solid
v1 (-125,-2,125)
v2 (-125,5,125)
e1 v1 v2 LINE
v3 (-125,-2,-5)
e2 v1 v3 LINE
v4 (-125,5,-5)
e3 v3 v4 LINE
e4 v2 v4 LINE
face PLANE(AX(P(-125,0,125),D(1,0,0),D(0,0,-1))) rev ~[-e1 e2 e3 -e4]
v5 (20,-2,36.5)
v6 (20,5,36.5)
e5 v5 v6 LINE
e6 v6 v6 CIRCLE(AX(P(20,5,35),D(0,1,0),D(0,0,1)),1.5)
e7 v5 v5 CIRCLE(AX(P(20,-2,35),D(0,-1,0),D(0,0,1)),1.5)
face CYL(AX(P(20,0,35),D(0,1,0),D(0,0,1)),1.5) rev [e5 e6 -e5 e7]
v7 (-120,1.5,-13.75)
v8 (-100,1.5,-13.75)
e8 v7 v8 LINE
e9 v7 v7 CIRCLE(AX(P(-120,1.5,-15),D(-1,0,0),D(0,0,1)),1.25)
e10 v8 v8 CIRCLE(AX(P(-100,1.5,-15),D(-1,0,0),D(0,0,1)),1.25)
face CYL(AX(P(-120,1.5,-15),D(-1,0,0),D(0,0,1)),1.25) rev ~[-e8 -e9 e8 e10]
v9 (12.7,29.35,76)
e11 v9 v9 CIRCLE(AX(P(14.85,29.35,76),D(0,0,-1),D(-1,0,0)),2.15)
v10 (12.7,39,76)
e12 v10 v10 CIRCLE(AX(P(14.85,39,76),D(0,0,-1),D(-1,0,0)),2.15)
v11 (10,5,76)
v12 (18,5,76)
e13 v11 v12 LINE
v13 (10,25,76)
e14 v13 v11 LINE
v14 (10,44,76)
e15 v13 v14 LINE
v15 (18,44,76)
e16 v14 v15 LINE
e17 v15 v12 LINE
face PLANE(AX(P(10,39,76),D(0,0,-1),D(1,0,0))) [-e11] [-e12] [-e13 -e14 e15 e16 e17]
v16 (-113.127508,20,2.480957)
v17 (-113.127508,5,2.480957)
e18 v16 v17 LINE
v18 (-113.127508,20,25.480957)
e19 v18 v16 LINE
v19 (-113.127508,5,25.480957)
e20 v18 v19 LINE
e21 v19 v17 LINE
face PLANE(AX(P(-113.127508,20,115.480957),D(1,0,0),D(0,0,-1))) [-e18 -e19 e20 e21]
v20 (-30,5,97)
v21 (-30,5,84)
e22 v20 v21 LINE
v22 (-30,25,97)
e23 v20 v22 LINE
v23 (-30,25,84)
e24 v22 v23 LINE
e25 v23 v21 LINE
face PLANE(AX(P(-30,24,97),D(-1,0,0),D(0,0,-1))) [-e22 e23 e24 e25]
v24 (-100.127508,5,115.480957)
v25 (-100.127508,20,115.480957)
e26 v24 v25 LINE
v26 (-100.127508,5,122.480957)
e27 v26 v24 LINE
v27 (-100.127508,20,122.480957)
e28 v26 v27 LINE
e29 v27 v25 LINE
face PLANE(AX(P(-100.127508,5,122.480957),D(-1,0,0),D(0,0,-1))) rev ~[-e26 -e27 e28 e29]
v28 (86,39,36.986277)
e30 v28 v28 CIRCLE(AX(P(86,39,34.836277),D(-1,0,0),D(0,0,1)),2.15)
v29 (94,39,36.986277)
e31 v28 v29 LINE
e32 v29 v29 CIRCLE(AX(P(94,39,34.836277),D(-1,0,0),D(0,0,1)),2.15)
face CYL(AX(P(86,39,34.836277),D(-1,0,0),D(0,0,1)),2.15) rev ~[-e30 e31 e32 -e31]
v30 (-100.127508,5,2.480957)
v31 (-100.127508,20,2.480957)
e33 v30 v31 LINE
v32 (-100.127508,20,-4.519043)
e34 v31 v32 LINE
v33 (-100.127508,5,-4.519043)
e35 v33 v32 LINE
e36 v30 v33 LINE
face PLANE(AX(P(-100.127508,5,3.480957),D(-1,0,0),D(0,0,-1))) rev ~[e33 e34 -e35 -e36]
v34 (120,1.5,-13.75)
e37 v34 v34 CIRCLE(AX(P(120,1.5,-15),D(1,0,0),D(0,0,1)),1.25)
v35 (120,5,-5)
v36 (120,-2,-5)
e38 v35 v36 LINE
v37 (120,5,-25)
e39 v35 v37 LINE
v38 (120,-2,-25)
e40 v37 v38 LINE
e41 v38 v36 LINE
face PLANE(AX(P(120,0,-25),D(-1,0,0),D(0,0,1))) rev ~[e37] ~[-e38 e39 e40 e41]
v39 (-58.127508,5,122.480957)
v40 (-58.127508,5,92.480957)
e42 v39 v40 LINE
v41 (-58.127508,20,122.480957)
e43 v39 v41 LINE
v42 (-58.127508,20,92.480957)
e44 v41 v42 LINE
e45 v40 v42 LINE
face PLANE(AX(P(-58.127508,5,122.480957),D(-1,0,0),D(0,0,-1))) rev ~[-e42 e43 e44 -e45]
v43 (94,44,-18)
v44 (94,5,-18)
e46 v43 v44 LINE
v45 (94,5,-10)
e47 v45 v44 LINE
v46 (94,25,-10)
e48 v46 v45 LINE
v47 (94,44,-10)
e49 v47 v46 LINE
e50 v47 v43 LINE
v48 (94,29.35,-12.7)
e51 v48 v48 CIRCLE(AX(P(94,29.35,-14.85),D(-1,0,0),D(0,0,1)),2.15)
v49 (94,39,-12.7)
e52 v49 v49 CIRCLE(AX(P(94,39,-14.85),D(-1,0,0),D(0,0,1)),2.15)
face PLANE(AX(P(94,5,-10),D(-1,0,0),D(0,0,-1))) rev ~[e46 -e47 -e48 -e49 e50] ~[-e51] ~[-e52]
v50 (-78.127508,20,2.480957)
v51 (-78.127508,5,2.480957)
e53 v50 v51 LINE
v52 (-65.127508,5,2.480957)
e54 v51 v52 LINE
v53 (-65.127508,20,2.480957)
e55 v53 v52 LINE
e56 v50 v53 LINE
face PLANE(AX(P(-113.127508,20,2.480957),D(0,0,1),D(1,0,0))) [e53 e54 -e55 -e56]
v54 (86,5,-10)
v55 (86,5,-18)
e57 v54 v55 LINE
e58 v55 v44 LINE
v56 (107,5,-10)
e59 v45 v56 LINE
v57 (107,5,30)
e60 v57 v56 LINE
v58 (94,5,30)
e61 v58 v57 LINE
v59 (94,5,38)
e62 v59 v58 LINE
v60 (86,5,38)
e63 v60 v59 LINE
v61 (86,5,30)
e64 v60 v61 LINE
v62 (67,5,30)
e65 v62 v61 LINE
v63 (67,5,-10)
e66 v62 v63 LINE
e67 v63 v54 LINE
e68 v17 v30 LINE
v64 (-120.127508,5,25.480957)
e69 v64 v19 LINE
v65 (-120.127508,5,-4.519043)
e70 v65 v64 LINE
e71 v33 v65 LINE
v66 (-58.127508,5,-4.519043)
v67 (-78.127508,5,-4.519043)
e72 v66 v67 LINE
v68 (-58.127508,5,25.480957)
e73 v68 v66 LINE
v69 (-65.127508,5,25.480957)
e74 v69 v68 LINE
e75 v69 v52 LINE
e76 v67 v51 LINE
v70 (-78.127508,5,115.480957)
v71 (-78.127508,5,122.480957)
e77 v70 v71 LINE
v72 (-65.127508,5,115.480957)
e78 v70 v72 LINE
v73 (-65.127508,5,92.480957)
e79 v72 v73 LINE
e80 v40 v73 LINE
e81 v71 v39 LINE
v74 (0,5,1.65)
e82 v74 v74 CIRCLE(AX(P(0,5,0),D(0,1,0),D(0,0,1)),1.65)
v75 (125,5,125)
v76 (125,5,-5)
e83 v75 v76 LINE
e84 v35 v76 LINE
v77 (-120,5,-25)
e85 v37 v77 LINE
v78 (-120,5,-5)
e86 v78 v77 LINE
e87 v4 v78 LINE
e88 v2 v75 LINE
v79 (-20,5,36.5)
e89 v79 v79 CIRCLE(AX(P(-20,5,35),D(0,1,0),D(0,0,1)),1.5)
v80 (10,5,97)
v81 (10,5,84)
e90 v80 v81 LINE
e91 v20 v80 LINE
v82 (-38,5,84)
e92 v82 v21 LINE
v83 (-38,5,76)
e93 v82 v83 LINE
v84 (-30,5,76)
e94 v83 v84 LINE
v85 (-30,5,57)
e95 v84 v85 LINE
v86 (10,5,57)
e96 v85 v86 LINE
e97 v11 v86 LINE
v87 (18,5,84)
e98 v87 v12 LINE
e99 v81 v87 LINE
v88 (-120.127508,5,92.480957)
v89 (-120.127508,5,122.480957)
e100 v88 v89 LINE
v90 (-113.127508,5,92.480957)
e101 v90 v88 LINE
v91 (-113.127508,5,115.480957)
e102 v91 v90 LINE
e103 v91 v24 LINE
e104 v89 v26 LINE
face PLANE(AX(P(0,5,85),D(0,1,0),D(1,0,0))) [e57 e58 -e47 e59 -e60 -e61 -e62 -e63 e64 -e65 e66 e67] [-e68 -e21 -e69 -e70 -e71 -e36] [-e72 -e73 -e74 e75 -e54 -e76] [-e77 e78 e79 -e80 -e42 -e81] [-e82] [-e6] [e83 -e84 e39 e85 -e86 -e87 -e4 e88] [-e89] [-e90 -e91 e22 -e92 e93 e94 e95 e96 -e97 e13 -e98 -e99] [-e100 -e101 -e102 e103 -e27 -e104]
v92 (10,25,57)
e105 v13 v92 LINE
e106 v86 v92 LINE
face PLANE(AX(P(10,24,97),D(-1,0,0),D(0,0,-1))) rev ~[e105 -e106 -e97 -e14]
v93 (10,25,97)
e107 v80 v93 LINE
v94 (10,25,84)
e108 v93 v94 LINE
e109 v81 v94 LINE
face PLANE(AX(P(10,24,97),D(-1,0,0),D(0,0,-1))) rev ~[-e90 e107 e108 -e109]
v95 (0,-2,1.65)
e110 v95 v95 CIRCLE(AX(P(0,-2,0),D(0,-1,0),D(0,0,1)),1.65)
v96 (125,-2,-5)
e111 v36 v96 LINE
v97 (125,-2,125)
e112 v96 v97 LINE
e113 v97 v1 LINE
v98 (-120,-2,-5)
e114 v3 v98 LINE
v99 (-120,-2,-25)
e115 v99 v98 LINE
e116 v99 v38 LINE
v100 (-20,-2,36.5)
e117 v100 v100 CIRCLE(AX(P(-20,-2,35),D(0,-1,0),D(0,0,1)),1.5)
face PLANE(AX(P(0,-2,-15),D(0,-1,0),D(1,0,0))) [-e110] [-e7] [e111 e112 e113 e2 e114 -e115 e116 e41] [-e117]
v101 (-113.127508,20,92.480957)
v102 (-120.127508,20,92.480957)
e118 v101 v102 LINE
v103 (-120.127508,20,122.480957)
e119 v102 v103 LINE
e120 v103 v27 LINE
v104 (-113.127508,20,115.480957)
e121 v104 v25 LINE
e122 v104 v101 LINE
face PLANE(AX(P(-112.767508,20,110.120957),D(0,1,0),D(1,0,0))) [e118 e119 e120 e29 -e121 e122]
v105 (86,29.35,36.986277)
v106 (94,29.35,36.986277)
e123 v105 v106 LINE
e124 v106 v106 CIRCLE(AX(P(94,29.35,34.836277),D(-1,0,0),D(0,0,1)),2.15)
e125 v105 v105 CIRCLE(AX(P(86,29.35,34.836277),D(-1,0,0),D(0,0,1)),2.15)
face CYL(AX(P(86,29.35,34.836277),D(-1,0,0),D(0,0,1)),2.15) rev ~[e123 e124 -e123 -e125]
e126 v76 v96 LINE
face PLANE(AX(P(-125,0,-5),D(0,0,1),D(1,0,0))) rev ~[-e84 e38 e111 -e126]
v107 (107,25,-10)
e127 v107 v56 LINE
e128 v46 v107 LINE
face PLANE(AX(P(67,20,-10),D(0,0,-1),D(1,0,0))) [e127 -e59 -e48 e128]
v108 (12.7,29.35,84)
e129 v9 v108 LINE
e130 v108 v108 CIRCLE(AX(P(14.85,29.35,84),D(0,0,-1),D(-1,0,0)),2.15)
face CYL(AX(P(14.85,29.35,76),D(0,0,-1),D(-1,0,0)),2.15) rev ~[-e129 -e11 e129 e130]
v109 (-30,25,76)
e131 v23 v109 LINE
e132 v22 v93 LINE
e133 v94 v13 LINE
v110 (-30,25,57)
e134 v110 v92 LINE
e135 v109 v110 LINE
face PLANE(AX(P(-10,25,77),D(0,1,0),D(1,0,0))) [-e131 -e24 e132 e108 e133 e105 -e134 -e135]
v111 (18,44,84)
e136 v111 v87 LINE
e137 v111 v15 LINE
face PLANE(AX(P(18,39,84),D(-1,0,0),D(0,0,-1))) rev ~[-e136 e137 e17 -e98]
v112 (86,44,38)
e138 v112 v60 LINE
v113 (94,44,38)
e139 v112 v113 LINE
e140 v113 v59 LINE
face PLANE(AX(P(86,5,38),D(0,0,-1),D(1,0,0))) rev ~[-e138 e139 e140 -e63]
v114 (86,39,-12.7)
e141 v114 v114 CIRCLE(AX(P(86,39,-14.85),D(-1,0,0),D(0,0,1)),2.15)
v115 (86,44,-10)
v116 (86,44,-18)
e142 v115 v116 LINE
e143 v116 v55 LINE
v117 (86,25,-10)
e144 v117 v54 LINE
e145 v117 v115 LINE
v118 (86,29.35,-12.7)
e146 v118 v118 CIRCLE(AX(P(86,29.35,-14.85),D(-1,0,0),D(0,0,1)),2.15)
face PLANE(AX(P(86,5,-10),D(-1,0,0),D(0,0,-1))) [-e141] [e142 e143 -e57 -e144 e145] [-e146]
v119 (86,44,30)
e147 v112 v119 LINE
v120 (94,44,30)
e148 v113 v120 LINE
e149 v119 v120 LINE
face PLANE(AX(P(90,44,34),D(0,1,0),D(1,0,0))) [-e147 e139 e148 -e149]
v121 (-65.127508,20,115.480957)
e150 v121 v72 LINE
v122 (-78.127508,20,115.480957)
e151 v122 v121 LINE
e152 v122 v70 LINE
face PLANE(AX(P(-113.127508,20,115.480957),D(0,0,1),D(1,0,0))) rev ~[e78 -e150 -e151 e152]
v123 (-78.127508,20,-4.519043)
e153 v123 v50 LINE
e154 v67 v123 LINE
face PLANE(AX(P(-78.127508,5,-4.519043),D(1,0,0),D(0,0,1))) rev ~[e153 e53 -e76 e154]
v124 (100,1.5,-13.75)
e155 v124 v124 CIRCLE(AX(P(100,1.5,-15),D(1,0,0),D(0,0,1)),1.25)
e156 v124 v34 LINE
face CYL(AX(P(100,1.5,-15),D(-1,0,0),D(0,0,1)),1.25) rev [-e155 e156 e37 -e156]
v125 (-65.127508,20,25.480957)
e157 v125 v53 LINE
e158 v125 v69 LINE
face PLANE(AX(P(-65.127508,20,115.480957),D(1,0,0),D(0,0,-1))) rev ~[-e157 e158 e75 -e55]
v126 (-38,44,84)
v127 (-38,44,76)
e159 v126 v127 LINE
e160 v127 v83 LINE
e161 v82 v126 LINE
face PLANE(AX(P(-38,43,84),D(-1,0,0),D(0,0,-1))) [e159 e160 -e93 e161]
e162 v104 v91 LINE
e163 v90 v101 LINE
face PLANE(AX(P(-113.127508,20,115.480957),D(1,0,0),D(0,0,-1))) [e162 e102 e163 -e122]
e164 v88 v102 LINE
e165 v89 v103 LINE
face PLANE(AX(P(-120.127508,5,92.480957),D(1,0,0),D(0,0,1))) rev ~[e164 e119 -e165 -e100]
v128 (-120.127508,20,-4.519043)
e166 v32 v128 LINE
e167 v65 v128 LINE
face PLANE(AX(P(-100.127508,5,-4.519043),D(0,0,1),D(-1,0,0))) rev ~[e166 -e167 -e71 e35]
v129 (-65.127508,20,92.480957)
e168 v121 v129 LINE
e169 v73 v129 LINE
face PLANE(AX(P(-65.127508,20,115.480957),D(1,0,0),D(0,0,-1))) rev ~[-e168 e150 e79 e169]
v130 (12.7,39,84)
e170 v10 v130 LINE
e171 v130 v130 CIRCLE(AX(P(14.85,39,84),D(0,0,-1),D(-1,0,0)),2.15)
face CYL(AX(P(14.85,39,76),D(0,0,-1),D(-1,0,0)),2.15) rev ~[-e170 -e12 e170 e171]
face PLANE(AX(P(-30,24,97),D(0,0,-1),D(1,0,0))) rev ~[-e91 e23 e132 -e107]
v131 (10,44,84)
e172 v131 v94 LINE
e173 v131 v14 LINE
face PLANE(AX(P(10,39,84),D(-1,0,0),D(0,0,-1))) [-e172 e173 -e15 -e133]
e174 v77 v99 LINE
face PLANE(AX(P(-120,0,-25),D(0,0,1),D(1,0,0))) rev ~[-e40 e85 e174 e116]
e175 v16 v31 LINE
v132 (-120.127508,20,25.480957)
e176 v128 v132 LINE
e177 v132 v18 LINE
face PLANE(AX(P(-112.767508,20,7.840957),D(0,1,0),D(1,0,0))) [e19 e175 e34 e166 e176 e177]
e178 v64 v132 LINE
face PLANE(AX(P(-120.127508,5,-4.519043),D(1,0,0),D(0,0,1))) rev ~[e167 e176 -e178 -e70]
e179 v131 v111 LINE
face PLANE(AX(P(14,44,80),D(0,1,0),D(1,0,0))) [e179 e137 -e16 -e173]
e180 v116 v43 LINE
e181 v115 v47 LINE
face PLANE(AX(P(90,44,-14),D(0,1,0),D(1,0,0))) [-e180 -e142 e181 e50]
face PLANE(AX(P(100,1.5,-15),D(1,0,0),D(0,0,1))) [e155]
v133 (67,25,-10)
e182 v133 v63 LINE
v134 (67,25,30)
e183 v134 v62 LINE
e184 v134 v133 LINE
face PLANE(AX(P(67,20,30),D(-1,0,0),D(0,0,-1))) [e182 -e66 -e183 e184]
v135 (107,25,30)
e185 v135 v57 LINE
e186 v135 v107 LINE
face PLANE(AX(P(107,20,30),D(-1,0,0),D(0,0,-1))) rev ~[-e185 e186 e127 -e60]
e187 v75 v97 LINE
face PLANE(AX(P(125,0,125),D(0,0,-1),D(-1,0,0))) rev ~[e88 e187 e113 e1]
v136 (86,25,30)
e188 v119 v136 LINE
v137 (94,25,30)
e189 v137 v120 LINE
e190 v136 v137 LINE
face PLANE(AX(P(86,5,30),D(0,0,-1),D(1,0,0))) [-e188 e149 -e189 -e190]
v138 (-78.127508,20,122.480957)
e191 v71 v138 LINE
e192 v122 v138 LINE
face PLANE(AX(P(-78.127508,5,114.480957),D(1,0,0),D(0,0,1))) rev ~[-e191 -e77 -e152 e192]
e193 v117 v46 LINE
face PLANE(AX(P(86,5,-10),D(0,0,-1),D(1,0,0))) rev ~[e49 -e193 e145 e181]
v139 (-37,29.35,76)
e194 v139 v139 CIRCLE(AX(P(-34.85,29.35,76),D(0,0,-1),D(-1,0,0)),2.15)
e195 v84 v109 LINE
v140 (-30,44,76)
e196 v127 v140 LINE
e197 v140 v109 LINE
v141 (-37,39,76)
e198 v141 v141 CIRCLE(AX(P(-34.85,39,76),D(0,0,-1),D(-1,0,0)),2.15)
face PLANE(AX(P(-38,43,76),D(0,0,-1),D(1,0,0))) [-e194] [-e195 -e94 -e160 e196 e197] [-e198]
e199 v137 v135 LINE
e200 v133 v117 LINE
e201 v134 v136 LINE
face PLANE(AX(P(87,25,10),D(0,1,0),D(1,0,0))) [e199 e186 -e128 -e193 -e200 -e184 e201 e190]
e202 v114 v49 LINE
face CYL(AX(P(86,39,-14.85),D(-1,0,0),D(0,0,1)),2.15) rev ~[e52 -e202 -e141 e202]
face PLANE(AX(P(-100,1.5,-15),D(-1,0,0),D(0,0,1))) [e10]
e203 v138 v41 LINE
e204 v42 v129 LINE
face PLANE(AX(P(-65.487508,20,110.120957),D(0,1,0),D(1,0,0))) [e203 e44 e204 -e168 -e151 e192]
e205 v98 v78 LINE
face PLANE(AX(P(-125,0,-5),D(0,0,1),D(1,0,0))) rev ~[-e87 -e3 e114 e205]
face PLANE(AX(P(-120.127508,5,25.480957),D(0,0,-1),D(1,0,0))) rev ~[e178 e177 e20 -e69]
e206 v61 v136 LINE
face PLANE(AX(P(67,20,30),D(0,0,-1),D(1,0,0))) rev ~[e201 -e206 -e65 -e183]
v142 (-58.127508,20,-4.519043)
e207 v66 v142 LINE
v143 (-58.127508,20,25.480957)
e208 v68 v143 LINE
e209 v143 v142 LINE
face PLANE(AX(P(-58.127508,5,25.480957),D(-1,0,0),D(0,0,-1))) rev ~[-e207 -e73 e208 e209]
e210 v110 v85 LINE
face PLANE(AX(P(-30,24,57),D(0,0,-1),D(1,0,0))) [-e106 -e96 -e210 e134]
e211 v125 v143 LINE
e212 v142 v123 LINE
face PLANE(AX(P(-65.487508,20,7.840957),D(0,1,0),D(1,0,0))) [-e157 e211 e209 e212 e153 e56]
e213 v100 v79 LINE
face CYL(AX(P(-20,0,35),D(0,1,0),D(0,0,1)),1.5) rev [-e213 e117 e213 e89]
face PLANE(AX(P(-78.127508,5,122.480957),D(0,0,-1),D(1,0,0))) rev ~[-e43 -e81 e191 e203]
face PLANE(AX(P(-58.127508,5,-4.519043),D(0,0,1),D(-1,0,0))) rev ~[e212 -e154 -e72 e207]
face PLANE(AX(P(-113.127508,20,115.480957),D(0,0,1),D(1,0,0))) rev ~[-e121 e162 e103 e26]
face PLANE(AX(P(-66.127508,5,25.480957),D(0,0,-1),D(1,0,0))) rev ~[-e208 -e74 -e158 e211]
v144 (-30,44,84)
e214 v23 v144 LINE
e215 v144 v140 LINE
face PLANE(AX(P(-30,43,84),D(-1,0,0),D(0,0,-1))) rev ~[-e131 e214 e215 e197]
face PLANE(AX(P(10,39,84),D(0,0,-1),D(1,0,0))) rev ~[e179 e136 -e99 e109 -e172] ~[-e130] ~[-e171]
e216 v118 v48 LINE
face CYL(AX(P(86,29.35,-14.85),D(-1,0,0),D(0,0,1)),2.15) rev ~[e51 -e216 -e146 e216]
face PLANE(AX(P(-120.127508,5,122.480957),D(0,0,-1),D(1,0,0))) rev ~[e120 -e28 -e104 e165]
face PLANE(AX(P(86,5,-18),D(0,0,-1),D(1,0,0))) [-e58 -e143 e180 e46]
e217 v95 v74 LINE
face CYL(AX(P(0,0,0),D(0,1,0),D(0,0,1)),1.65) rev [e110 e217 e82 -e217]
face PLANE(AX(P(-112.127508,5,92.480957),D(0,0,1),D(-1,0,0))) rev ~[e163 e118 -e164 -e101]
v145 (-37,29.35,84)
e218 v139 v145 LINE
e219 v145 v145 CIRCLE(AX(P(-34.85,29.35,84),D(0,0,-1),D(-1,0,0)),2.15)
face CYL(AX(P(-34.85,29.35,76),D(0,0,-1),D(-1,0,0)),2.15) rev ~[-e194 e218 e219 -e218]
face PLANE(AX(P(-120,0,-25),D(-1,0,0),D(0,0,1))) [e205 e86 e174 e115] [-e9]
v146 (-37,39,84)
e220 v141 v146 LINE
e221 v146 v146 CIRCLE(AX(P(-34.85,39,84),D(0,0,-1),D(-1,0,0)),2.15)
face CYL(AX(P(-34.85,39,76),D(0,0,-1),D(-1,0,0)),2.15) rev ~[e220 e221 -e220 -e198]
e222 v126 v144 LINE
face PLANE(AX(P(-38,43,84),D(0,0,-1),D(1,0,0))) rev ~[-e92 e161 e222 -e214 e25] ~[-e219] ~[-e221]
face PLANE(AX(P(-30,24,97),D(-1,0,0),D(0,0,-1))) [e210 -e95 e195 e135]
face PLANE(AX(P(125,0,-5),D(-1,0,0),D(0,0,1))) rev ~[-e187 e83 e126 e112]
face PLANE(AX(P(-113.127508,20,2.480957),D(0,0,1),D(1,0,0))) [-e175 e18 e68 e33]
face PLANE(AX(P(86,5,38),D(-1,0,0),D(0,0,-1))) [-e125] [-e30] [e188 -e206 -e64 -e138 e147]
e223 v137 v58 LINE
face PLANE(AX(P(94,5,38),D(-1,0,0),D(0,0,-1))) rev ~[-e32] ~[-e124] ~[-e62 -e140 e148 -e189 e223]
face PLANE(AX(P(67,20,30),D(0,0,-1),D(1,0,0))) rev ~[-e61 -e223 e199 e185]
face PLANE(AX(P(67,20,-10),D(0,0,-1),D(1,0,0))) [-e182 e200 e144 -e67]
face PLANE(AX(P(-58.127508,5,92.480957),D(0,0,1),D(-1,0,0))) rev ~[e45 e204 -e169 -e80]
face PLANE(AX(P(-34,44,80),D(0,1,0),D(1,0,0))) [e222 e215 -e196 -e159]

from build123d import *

# Parameters (mm, degrees)
SKIZZE1_W                             = 250
SKIZZE1_H                             = 250
AUFSATZ_LINEAR_AUSTRAGEN1_DEPTH       = 5
SKIZZE2_W                             = 40
SKIZZE2_H                             = 40
AUFSATZ_LINEAR_AUSTRAGEN2_DEPTH       = 15
SKIZZE3_R                             = 1.65
SKIZZE3_W                             = 30
SKIZZE3_H                             = 30
SCHNITT_LINEAR_AUSTRAGEN1_DEPTH       = 15
SKIZZE4_R                             = 1.65
SKIZZE4_W                             = 30
SKIZZE4_H                             = 30
SCHNITT_LINEAR_AUSTRAGEN2_DEPTH       = 15
SKIZZE6_W                             = 40
SKIZZE6_H                             = 40
AUFSATZ_LINEAR_AUSTRAGEN3_DEPTH       = 5
SKIZZE7_W                             = 40
SKIZZE7_H                             = 40
SCHNITT_LINEAR_AUSTRAGEN3_DEPTH       = 43
SKIZZE8_W                             = 30
SKIZZE8_H                             = 30
AUFSATZ_LINEAR_AUSTRAGEN4_DEPTH       = 5
SKIZZE9_W                             = 45
SKIZZE9_H                             = 45
AUFSATZ_LINEAR_AUSTRAGEN5_DEPTH       = 15
SKIZZE10_W                            = 8
SKIZZE10_H                            = 8
AUFSATZ_LINEAR_AUSTRAGEN6_DEPTH       = 34
SKIZZE11_R                            = 2.15
SCHNITT_LINEAR_AUSTRAGEN4_DEPTH       = 34
SKIZZE12_W                            = 143.062860871
SKIZZE12_H                            = 184.486429343
SCHNITT_LINEAR_AUSTRAGEN5_DEPTH       = 60
SKIZZE13_W                            = 40
SKIZZE13_H                            = 40
AUFSATZ_LINEAR_AUSTRAGEN7_DEPTH       = 15
SKIZZE14_W                            = 8
SKIZZE14_H                            = 8
AUFSATZ_LINEAR_AUSTRAGEN8_DEPTH       = 34
SKIZZE15_W                            = 37
SKIZZE15_H                            = 14
SCHNITT_LINEAR_AUSTRAGEN6_DEPTH       = 10
SKIZZE16_W                            = 50
SKIZZE16_H                            = 70
AUFSATZ_LINEAR_AUSTRAGEN9_DEPTH       = 1
SKIZZE17_R                            = 1.35
SCHNITT_LINEAR_AUSTRAGEN7_DEPTH       = 21
SKIZZE18_R                            = 2.15
SCHNITT_LINEAR_AUSTRAGEN8_DEPTH       = 21
SKIZZE19_R                            = 2.15
SCHNITT_LINEAR_AUSTRAGEN9_DEPTH       = 21
SCHNITT_LINEAR_AUSTRAGEN10_DEPTH      = 22
SCHNITT_LINEAR_AUSTRAGEN10_DEPTH_BACK = 63
SKIZZE20_W                            = 250
SKIZZE20_H                            = 100
SKIZZE21_W                            = 5
SKIZZE21_H                            = 20
SCHNITT_LINEAR_AUSTRAGEN11_DEPTH      = 10
SKIZZE22_R                            = 1.25
SCHNITT_LINEAR_AUSTRAGEN12_DEPTH      = 20
SCHNITT_LINEAR_START                  = -20
SKIZZE23_R                            = 1.25
SCHNITT_LINEAR_AUSTRAGEN13_DEPTH      = 20
SKIZZE24_R                            = 1.5
SCHNITT_LINEAR_AUSTRAGEN15_DEPTH      = 10
SKIZZE25_W                            = 240
SKIZZE25_H                            = 20
SKIZZE25_R                            = 1.5
SKIZZE25_R_2                          = 1.65
AUFSATZ_LINEAR_AUSTRAGEN10_DEPTH      = 2
SKIZZE26_W                            = 48
SKIZZE26_H                            = 113
SCHNITT_LINEAR_AUSTRAGEN17_DEPTH      = 15
SKIZZE27_W                            = 40
SKIZZE27_H                            = 40
AUFSATZ_LINEAR_AUSTRAGEN11_DEPTH      = 4
SKIZZE28_W                            = 8
SKIZZE28_H                            = 8
AUFSATZ_LINEAR_AUSTRAGEN12_DEPTH      = 4
SKIZZE30_R                            = 2.15
SCHNITT_LINEAR_AUSTRAGEN18_DEPTH      = 9
SKIZZE31_R                            = 2.15
SCHNITT_LINEAR_AUSTRAGEN19_DEPTH      = 9
SKIZZE32_R                            = 2.15
SCHNITT_LINEAR_AUSTRAGEN20_DEPTH      = 9
SKIZZE33_W                            = 40
SKIZZE33_H                            = 40
AUFSATZ_LINEAR_AUSTRAGEN13_DEPTH      = 1
SKIZZE34_W                            = 8
SKIZZE34_H                            = 8
AUFSATZ_LINEAR_AUSTRAGEN14_DEPTH      = 1


with BuildPart() as part:
    # Skizze1 → Aufsatz-Linear austragen1 (new body)
    with BuildSketch(Plane(origin=(0, 0, 0), x_dir=(1, 0, 0), z_dir=(0, 1, 0))):
        Rectangle(SKIZZE1_W, SKIZZE1_H)
    extrude(amount=AUFSATZ_LINEAR_AUSTRAGEN1_DEPTH)

    # Skizze2 → Aufsatz-Linear austragen2 (add)
    with BuildSketch(Plane(origin=(0, 5, 0), x_dir=(1, 0, 0), z_dir=(0, 1, 0))):
        Polygon((-100.127507589, -114.480956566), (-112.127507589, -114.480956566), (-112.127507589, -92.480956566), (-120.127507589, -92.480956566), (-120.127507589, -122.480956566), (-100.127507589, -122.480956566), align=None)
        Polygon((-66.127507589, -114.480956566), (-78.127507589, -114.480956566), (-78.127507589, -122.480956566), (-58.127507589, -122.480956566), (-58.127507589, -92.480956566), (-66.127507589, -92.480956566), align=None)
        Polygon((-66.127507589, -3.480956566), (-66.127507589, -25.480956566), (-58.127507589, -25.480956566), (-58.127507589, 4.519043434), (-78.127507589, 4.519043434), (-78.127507589, -3.480956566), align=None)
        Polygon((-120.127507589, -25.480956566), (-112.127507589, -25.480956566), (-112.127507589, -3.480956566), (-100.127507589, -3.480956566), (-100.127507589, 4.519043434), (-120.127507589, 4.519043434), align=None)
        with Locations((0, -85)):
            Rectangle(SKIZZE2_W, SKIZZE2_H)
        with Locations((85, 0)):
            Rectangle(SKIZZE2_W, SKIZZE2_H)
    extrude(amount=AUFSATZ_LINEAR_AUSTRAGEN2_DEPTH)

    # Skizze3 → Schnitt-Linear austragen1 (cut)
    with BuildSketch(Plane(origin=(0, 20, 0), x_dir=(1, 0, 0), z_dir=(0, 1, 0))):
        Circle(SKIZZE3_R)
        with Locations((85, 0)):
            Rectangle(SKIZZE3_W, SKIZZE3_H)
        with Locations((0, -85)):
            Rectangle(SKIZZE3_W, SKIZZE3_H)
    extrude(amount=-SCHNITT_LINEAR_AUSTRAGEN1_DEPTH, mode=Mode.SUBTRACT)

    # Skizze4 → Schnitt-Linear austragen2 (cut)
    with BuildSketch(Plane(origin=(0, 5, 0), x_dir=(1, 0, 0), z_dir=(0, 1, 0))):
        with Locations(Location((0, 0, 0), (0, 0, 270))):
            Circle(SKIZZE4_R)
        with Locations((0, -85)):
            Rectangle(SKIZZE4_W, SKIZZE4_H)
        with Locations((85, 0)):
            Rectangle(SKIZZE4_W, SKIZZE4_H)
    extrude(amount=-SCHNITT_LINEAR_AUSTRAGEN2_DEPTH, mode=Mode.SUBTRACT)

    # Skizze6 → Aufsatz-Linear austragen3 (add)
    with BuildSketch(Plane(origin=(0, 20, 0), x_dir=(1, 0, 0), z_dir=(0, 1, 0))):
        with Locations((0, -85)):
            Rectangle(SKIZZE6_W, SKIZZE6_H)
        with Locations((85, 0)):
            Rectangle(SKIZZE6_W, SKIZZE6_H)
    extrude(amount=-AUFSATZ_LINEAR_AUSTRAGEN3_DEPTH)

    # Skizze7 → Schnitt-Linear austragen3 (cut)
    with BuildSketch(Plane(origin=(0, 5, 0), x_dir=(1, 0, 0), z_dir=(0, 1, 0))):
        with Locations((0, -85)):
            Rectangle(SKIZZE7_W, SKIZZE7_H)
        with Locations((85, 0)):
            Rectangle(SKIZZE7_W, SKIZZE7_H)
    extrude(amount=SCHNITT_LINEAR_AUSTRAGEN3_DEPTH, mode=Mode.SUBTRACT)

    # Skizze8 → Aufsatz-Linear austragen4 (add)
    with BuildSketch(Plane(origin=(0, 5, 0), x_dir=(1, 0, 0), z_dir=(0, 1, 0))):
        with Locations((0, -85)):
            Rectangle(SKIZZE8_W, SKIZZE8_H)
        with Locations((85, 0)):
            Rectangle(SKIZZE8_W, SKIZZE8_H)
    extrude(amount=-AUFSATZ_LINEAR_AUSTRAGEN4_DEPTH)

    # Skizze9 → Aufsatz-Linear austragen5 (add)
    with BuildSketch(Plane(origin=(0, 5, 0), x_dir=(1, 0, 0), z_dir=(0, 1, 0))):
        with Locations((16.5, -93.5)):
            Rectangle(SKIZZE9_W, SKIZZE9_H)
        with Locations((93.5, -16.5)):
            Rectangle(SKIZZE9_W, SKIZZE9_H)
    extrude(amount=AUFSATZ_LINEAR_AUSTRAGEN5_DEPTH)

    # Skizze10 → Aufsatz-Linear austragen6 (add)
    with BuildSketch(Plane(origin=(0, 5, 0), x_dir=(1, 0, 0), z_dir=(0, 1, 0))):
        with Locations((-10, -89)):
            Rectangle(SKIZZE10_W, SKIZZE10_H)
        with Locations((43, -89)):
            Rectangle(SKIZZE10_W, SKIZZE10_H)
        with Locations((89, 10)):
            Rectangle(SKIZZE10_W, SKIZZE10_H)
        with Locations((89, -43)):
            Rectangle(SKIZZE10_W, SKIZZE10_H)
    extrude(amount=AUFSATZ_LINEAR_AUSTRAGEN6_DEPTH)

    # Skizze11 → Schnitt-Linear austragen4 (cut)
    with BuildSketch(Plane(origin=(0, 0, 85), x_dir=(-1, 0, 0), z_dir=(0, 0, -1))):
        with Locations((10.85, 34.05)):
            Circle(SKIZZE11_R)
        with Locations((10.85, 24.35)):
            Circle(SKIZZE11_R)
        with Locations((-43.85, 34.05)):
            Circle(SKIZZE11_R)
        with Locations((-43.85, 24.35)):
            Circle(SKIZZE11_R)
    extrude(amount=-SCHNITT_LINEAR_AUSTRAGEN4_DEPTH, mode=Mode.SUBTRACT)

    # Skizze12 → Schnitt-Linear austragen5 (cut)
    with BuildSketch(Plane(origin=(0, 5, 0), x_dir=(1, 0, 0), z_dir=(0, 1, 0))):
        with Locations((48.924998025, -26.491593456)):
            Rectangle(SKIZZE12_W, SKIZZE12_H)
    extrude(amount=SCHNITT_LINEAR_AUSTRAGEN5_DEPTH, mode=Mode.SUBTRACT)

    # Skizze13 → Aufsatz-Linear austragen7 (add)
    with BuildSketch(Plane(origin=(0, 5, 0), x_dir=(1, 0, 0), z_dir=(0, 1, 0))):
        with Locations((-10, -77)):
            Rectangle(SKIZZE13_W, SKIZZE13_H)
        with Locations((87, -10)):
            Rectangle(SKIZZE13_W, SKIZZE13_H)
    extrude(amount=AUFSATZ_LINEAR_AUSTRAGEN7_DEPTH)

    # Skizze14 → Aufsatz-Linear austragen8 (add)
    with BuildSketch(Plane(origin=(0, 5, 0), x_dir=(1, 0, 0), z_dir=(0, 1, 0))):
        with Locations((-34, -80)):
            Rectangle(SKIZZE14_W, SKIZZE14_H)
        with Locations((14, -80)):
            Rectangle(SKIZZE14_W, SKIZZE14_H)
        with Locations((90, -34)):
            Rectangle(SKIZZE14_W, SKIZZE14_H)
        with Locations((90, 14)):
            Rectangle(SKIZZE14_W, SKIZZE14_H)
    extrude(amount=AUFSATZ_LINEAR_AUSTRAGEN8_DEPTH)

    # Skizze15 → Schnitt-Linear austragen6 (cut)
    with BuildSketch(Plane(origin=(0, 5, 0), x_dir=(1, 0, 0), z_dir=(0, 1, 0))):
        with Locations((0, 118)):
            Rectangle(SKIZZE15_W, SKIZZE15_H)
    extrude(amount=-SCHNITT_LINEAR_AUSTRAGEN6_DEPTH, mode=Mode.SUBTRACT)

    # Skizze16 → Aufsatz-Linear austragen9 (add)
    with BuildSketch(Plane(origin=(0, 5, 0), x_dir=(1, 0, 0), z_dir=(0, 1, 0))):
        with Locations((-76.733084372, 76.985715353)):
            Rectangle(SKIZZE16_W, SKIZZE16_H)
    extrude(amount=AUFSATZ_LINEAR_AUSTRAGEN9_DEPTH)

    # Skizze17 → Schnitt-Linear austragen7 (cut)
    with BuildSketch(Plane(origin=(0, 5, 0), x_dir=(1, 0, 0), z_dir=(0, 1, 0))):
        with Locations(Location((105.951755746, 46.286528094, 0), (0, 0, 270))):
            Circle(SKIZZE17_R)
        with Locations(Location((105.951755746, 95.286528094, 0), (0, 0, 270))):
            Circle(SKIZZE17_R)
        with Locations(Location((47.951755746, 46.286528094, 0), (0, 0, 270))):
            Circle(SKIZZE17_R)
        with Locations(Location((47.951755746, 95.286528094, 0), (0, 0, 270))):
            Circle(SKIZZE17_R)
    extrude(amount=-SCHNITT_LINEAR_AUSTRAGEN7_DEPTH, mode=Mode.SUBTRACT)

    # Skizze18 → Schnitt-Linear austragen8 (cut)
    with BuildSketch(Plane(origin=(0, 0, 76), x_dir=(-1, 0, 0), z_dir=(0, 0, -1))):
        with Locations((34.85, 39.05)):
            Circle(SKIZZE18_R)
        with Locations((34.85, 29.35)):
            Circle(SKIZZE18_R)
        with Locations((-14.85, 39.05)):
            Circle(SKIZZE18_R)
        with Locations((-14.85, 29.35)):
            Circle(SKIZZE18_R)
    extrude(amount=-SCHNITT_LINEAR_AUSTRAGEN8_DEPTH, mode=Mode.SUBTRACT)

    # Skizze19 → Schnitt-Linear austragen9 (cut)
    with BuildSketch(Plane.ZY.offset(-86)):
        with Locations((34.836277026, 39.05)):
            Circle(SKIZZE19_R)
        with Locations((34.836277026, 29.35)):
            Circle(SKIZZE19_R)
        with Locations((-14.85, 39.05)):
            Circle(SKIZZE19_R)
        with Locations((-14.85, 29.35)):
            Circle(SKIZZE19_R)
    extrude(amount=-SCHNITT_LINEAR_AUSTRAGEN9_DEPTH, mode=Mode.SUBTRACT)

    # Skizze20 → Schnitt-Linear austragen10 (cut, two sides: drawn at the far end of the back side and taken through both)
    with BuildSketch(Plane(origin=(0, 5, 0), x_dir=(1, 0, 0), z_dir=(0, 1, 0)).offset(-SCHNITT_LINEAR_AUSTRAGEN10_DEPTH_BACK)):
        with Locations((0, 75)):
            Rectangle(SKIZZE20_W, SKIZZE20_H)
    extrude(amount=SCHNITT_LINEAR_AUSTRAGEN10_DEPTH + SCHNITT_LINEAR_AUSTRAGEN10_DEPTH_BACK, mode=Mode.SUBTRACT)

    # Skizze21 → Schnitt-Linear austragen11 (cut)
    with BuildSketch(Plane(origin=(0, 5, 0), x_dir=(1, 0, 0), z_dir=(0, 1, 0))):
        with Locations((-122.5, 15)):
            Rectangle(SKIZZE21_W, SKIZZE21_H)
        with Locations((122.5, 15)):
            Rectangle(SKIZZE21_W, SKIZZE21_H)
    extrude(amount=-SCHNITT_LINEAR_AUSTRAGEN11_DEPTH, mode=Mode.SUBTRACT)

    # Skizze22 → Schnitt-Linear austragen12 (cut)
    with BuildSketch(Plane.ZY.offset(120)):
        with Locations((-15, 1.5)):
            Circle(SKIZZE22_R)
    extrude(amount=-SCHNITT_LINEAR_AUSTRAGEN12_DEPTH, mode=Mode.SUBTRACT)

    # Skizze23 → Schnitt-Linear austragen13 (cut)
    with BuildSketch(Plane(origin=(120, 0, 0), x_dir=(0, 0, -1), z_dir=(1, 0, 0)).offset(SCHNITT_LINEAR_START)):
        with Locations(Location((15, 1.5, 0), (0, 0, 180))):
            Circle(SKIZZE23_R)
    extrude(amount=SCHNITT_LINEAR_AUSTRAGEN13_DEPTH, mode=Mode.SUBTRACT)

    # Skizze24 → Schnitt-Linear austragen15 (cut)
    with BuildSketch(Plane(origin=(0, 5, 0), x_dir=(1, 0, 0), z_dir=(0, 1, 0))):
        with Locations(Location((-20, -35, 0), (0, 0, 270))):
            Circle(SKIZZE24_R)
        with Locations(Location((20, -35, 0), (0, 0, 270))):
            Circle(SKIZZE24_R)
    extrude(amount=-SCHNITT_LINEAR_AUSTRAGEN15_DEPTH, mode=Mode.SUBTRACT)

    # Skizze25 → Aufsatz-Linear austragen10 (add)
    # profile 1 of 2: a face of its own
    with BuildSketch(Plane.XZ):
        with Locations((0, -15)):
            Rectangle(SKIZZE25_W, SKIZZE25_H)
    # profile 2 of 2: a face of its own
    with BuildSketch(Plane.XZ):
        Polygon((125, -5), (125, 125), (-125, 125), (-125, -5), (-120, -5), (120, -5), align=None)
        with Locations(Location((-20, 35, 0), (0, 0, 90))):
            Circle(SKIZZE25_R, mode=Mode.SUBTRACT)
        with Locations(Location((0, 0, 0), (0, 0, 90))):
            Circle(SKIZZE25_R_2, mode=Mode.SUBTRACT)
        with Locations(Location((20, 35, 0), (0, 0, 90))):
            Circle(SKIZZE25_R, mode=Mode.SUBTRACT)
    extrude(amount=AUFSATZ_LINEAR_AUSTRAGEN10_DEPTH)

    # Skizze26 → Schnitt-Linear austragen17 (cut)
    with BuildSketch(Plane(origin=(0, 20, 0), x_dir=(1, 0, 0), z_dir=(0, 1, 0))):
        with Locations((-89.127507589, -58.980956566)):
            Rectangle(SKIZZE26_W, SKIZZE26_H)
    extrude(amount=-SCHNITT_LINEAR_AUSTRAGEN17_DEPTH, mode=Mode.SUBTRACT)

    # Skizze27 → Aufsatz-Linear austragen11 (add)
    with BuildSketch(Plane(origin=(0, 20, 0), x_dir=(1, 0, 0), z_dir=(0, 1, 0))):
        with Locations((87, -10)):
            Rectangle(SKIZZE27_W, SKIZZE27_H)
        with Locations((-10, -77)):
            Rectangle(SKIZZE27_W, SKIZZE27_H)
    extrude(amount=AUFSATZ_LINEAR_AUSTRAGEN11_DEPTH)

    # Skizze28 → Aufsatz-Linear austragen12 (add)
    with BuildSketch(Plane(origin=(0, 39, 0), x_dir=(1, 0, 0), z_dir=(0, 1, 0))):
        with Locations((14, -80)):
            Rectangle(SKIZZE28_W, SKIZZE28_H)
        with Locations((-34, -80)):
            Rectangle(SKIZZE28_W, SKIZZE28_H)
        with Locations((90, -34)):
            Rectangle(SKIZZE28_W, SKIZZE28_H)
        with Locations((90, 14)):
            Rectangle(SKIZZE28_W, SKIZZE28_H)
    extrude(amount=AUFSATZ_LINEAR_AUSTRAGEN12_DEPTH)

    # Skizze30 → Schnitt-Linear austragen18 (cut)
    with BuildSketch(Plane.ZY.offset(-86)):
        with Locations((34.836277026, 39)):
            Circle(SKIZZE30_R)
    extrude(amount=-SCHNITT_LINEAR_AUSTRAGEN18_DEPTH, mode=Mode.SUBTRACT)

    # Skizze31 → Schnitt-Linear austragen19 (cut)
    with BuildSketch(Plane.ZY.offset(-86)):
        with Locations((-14.85, 39)):
            Circle(SKIZZE31_R)
    extrude(amount=-SCHNITT_LINEAR_AUSTRAGEN19_DEPTH, mode=Mode.SUBTRACT)

    # Skizze32 → Schnitt-Linear austragen20 (cut)
    with BuildSketch(Plane(origin=(0, 0, 76), x_dir=(-1, 0, 0), z_dir=(0, 0, -1))):
        with Locations((-14.85, 39)):
            Circle(SKIZZE32_R)
        with Locations((34.85, 39)):
            Circle(SKIZZE32_R)
    extrude(amount=-SCHNITT_LINEAR_AUSTRAGEN20_DEPTH, mode=Mode.SUBTRACT)

    # Skizze33 → Aufsatz-Linear austragen13 (add)
    with BuildSketch(Plane(origin=(0, 24, 0), x_dir=(1, 0, 0), z_dir=(0, 1, 0))):
        with Locations((-10, -77)):
            Rectangle(SKIZZE33_W, SKIZZE33_H)
        with Locations((87, -10)):
            Rectangle(SKIZZE33_W, SKIZZE33_H)
    extrude(amount=AUFSATZ_LINEAR_AUSTRAGEN13_DEPTH)

    # Skizze34 → Aufsatz-Linear austragen14 (add)
    with BuildSketch(Plane(origin=(0, 43, 0), x_dir=(1, 0, 0), z_dir=(0, 1, 0))):
        with Locations((-34, -80)):
            Rectangle(SKIZZE34_W, SKIZZE34_H)
        with Locations((14, -80)):
            Rectangle(SKIZZE34_W, SKIZZE34_H)
        with Locations((90, -34)):
            Rectangle(SKIZZE34_W, SKIZZE34_H)
        with Locations((90, 14)):
            Rectangle(SKIZZE34_W, SKIZZE34_H)
    extrude(amount=AUFSATZ_LINEAR_AUSTRAGEN14_DEPTH)


solid = part.part
